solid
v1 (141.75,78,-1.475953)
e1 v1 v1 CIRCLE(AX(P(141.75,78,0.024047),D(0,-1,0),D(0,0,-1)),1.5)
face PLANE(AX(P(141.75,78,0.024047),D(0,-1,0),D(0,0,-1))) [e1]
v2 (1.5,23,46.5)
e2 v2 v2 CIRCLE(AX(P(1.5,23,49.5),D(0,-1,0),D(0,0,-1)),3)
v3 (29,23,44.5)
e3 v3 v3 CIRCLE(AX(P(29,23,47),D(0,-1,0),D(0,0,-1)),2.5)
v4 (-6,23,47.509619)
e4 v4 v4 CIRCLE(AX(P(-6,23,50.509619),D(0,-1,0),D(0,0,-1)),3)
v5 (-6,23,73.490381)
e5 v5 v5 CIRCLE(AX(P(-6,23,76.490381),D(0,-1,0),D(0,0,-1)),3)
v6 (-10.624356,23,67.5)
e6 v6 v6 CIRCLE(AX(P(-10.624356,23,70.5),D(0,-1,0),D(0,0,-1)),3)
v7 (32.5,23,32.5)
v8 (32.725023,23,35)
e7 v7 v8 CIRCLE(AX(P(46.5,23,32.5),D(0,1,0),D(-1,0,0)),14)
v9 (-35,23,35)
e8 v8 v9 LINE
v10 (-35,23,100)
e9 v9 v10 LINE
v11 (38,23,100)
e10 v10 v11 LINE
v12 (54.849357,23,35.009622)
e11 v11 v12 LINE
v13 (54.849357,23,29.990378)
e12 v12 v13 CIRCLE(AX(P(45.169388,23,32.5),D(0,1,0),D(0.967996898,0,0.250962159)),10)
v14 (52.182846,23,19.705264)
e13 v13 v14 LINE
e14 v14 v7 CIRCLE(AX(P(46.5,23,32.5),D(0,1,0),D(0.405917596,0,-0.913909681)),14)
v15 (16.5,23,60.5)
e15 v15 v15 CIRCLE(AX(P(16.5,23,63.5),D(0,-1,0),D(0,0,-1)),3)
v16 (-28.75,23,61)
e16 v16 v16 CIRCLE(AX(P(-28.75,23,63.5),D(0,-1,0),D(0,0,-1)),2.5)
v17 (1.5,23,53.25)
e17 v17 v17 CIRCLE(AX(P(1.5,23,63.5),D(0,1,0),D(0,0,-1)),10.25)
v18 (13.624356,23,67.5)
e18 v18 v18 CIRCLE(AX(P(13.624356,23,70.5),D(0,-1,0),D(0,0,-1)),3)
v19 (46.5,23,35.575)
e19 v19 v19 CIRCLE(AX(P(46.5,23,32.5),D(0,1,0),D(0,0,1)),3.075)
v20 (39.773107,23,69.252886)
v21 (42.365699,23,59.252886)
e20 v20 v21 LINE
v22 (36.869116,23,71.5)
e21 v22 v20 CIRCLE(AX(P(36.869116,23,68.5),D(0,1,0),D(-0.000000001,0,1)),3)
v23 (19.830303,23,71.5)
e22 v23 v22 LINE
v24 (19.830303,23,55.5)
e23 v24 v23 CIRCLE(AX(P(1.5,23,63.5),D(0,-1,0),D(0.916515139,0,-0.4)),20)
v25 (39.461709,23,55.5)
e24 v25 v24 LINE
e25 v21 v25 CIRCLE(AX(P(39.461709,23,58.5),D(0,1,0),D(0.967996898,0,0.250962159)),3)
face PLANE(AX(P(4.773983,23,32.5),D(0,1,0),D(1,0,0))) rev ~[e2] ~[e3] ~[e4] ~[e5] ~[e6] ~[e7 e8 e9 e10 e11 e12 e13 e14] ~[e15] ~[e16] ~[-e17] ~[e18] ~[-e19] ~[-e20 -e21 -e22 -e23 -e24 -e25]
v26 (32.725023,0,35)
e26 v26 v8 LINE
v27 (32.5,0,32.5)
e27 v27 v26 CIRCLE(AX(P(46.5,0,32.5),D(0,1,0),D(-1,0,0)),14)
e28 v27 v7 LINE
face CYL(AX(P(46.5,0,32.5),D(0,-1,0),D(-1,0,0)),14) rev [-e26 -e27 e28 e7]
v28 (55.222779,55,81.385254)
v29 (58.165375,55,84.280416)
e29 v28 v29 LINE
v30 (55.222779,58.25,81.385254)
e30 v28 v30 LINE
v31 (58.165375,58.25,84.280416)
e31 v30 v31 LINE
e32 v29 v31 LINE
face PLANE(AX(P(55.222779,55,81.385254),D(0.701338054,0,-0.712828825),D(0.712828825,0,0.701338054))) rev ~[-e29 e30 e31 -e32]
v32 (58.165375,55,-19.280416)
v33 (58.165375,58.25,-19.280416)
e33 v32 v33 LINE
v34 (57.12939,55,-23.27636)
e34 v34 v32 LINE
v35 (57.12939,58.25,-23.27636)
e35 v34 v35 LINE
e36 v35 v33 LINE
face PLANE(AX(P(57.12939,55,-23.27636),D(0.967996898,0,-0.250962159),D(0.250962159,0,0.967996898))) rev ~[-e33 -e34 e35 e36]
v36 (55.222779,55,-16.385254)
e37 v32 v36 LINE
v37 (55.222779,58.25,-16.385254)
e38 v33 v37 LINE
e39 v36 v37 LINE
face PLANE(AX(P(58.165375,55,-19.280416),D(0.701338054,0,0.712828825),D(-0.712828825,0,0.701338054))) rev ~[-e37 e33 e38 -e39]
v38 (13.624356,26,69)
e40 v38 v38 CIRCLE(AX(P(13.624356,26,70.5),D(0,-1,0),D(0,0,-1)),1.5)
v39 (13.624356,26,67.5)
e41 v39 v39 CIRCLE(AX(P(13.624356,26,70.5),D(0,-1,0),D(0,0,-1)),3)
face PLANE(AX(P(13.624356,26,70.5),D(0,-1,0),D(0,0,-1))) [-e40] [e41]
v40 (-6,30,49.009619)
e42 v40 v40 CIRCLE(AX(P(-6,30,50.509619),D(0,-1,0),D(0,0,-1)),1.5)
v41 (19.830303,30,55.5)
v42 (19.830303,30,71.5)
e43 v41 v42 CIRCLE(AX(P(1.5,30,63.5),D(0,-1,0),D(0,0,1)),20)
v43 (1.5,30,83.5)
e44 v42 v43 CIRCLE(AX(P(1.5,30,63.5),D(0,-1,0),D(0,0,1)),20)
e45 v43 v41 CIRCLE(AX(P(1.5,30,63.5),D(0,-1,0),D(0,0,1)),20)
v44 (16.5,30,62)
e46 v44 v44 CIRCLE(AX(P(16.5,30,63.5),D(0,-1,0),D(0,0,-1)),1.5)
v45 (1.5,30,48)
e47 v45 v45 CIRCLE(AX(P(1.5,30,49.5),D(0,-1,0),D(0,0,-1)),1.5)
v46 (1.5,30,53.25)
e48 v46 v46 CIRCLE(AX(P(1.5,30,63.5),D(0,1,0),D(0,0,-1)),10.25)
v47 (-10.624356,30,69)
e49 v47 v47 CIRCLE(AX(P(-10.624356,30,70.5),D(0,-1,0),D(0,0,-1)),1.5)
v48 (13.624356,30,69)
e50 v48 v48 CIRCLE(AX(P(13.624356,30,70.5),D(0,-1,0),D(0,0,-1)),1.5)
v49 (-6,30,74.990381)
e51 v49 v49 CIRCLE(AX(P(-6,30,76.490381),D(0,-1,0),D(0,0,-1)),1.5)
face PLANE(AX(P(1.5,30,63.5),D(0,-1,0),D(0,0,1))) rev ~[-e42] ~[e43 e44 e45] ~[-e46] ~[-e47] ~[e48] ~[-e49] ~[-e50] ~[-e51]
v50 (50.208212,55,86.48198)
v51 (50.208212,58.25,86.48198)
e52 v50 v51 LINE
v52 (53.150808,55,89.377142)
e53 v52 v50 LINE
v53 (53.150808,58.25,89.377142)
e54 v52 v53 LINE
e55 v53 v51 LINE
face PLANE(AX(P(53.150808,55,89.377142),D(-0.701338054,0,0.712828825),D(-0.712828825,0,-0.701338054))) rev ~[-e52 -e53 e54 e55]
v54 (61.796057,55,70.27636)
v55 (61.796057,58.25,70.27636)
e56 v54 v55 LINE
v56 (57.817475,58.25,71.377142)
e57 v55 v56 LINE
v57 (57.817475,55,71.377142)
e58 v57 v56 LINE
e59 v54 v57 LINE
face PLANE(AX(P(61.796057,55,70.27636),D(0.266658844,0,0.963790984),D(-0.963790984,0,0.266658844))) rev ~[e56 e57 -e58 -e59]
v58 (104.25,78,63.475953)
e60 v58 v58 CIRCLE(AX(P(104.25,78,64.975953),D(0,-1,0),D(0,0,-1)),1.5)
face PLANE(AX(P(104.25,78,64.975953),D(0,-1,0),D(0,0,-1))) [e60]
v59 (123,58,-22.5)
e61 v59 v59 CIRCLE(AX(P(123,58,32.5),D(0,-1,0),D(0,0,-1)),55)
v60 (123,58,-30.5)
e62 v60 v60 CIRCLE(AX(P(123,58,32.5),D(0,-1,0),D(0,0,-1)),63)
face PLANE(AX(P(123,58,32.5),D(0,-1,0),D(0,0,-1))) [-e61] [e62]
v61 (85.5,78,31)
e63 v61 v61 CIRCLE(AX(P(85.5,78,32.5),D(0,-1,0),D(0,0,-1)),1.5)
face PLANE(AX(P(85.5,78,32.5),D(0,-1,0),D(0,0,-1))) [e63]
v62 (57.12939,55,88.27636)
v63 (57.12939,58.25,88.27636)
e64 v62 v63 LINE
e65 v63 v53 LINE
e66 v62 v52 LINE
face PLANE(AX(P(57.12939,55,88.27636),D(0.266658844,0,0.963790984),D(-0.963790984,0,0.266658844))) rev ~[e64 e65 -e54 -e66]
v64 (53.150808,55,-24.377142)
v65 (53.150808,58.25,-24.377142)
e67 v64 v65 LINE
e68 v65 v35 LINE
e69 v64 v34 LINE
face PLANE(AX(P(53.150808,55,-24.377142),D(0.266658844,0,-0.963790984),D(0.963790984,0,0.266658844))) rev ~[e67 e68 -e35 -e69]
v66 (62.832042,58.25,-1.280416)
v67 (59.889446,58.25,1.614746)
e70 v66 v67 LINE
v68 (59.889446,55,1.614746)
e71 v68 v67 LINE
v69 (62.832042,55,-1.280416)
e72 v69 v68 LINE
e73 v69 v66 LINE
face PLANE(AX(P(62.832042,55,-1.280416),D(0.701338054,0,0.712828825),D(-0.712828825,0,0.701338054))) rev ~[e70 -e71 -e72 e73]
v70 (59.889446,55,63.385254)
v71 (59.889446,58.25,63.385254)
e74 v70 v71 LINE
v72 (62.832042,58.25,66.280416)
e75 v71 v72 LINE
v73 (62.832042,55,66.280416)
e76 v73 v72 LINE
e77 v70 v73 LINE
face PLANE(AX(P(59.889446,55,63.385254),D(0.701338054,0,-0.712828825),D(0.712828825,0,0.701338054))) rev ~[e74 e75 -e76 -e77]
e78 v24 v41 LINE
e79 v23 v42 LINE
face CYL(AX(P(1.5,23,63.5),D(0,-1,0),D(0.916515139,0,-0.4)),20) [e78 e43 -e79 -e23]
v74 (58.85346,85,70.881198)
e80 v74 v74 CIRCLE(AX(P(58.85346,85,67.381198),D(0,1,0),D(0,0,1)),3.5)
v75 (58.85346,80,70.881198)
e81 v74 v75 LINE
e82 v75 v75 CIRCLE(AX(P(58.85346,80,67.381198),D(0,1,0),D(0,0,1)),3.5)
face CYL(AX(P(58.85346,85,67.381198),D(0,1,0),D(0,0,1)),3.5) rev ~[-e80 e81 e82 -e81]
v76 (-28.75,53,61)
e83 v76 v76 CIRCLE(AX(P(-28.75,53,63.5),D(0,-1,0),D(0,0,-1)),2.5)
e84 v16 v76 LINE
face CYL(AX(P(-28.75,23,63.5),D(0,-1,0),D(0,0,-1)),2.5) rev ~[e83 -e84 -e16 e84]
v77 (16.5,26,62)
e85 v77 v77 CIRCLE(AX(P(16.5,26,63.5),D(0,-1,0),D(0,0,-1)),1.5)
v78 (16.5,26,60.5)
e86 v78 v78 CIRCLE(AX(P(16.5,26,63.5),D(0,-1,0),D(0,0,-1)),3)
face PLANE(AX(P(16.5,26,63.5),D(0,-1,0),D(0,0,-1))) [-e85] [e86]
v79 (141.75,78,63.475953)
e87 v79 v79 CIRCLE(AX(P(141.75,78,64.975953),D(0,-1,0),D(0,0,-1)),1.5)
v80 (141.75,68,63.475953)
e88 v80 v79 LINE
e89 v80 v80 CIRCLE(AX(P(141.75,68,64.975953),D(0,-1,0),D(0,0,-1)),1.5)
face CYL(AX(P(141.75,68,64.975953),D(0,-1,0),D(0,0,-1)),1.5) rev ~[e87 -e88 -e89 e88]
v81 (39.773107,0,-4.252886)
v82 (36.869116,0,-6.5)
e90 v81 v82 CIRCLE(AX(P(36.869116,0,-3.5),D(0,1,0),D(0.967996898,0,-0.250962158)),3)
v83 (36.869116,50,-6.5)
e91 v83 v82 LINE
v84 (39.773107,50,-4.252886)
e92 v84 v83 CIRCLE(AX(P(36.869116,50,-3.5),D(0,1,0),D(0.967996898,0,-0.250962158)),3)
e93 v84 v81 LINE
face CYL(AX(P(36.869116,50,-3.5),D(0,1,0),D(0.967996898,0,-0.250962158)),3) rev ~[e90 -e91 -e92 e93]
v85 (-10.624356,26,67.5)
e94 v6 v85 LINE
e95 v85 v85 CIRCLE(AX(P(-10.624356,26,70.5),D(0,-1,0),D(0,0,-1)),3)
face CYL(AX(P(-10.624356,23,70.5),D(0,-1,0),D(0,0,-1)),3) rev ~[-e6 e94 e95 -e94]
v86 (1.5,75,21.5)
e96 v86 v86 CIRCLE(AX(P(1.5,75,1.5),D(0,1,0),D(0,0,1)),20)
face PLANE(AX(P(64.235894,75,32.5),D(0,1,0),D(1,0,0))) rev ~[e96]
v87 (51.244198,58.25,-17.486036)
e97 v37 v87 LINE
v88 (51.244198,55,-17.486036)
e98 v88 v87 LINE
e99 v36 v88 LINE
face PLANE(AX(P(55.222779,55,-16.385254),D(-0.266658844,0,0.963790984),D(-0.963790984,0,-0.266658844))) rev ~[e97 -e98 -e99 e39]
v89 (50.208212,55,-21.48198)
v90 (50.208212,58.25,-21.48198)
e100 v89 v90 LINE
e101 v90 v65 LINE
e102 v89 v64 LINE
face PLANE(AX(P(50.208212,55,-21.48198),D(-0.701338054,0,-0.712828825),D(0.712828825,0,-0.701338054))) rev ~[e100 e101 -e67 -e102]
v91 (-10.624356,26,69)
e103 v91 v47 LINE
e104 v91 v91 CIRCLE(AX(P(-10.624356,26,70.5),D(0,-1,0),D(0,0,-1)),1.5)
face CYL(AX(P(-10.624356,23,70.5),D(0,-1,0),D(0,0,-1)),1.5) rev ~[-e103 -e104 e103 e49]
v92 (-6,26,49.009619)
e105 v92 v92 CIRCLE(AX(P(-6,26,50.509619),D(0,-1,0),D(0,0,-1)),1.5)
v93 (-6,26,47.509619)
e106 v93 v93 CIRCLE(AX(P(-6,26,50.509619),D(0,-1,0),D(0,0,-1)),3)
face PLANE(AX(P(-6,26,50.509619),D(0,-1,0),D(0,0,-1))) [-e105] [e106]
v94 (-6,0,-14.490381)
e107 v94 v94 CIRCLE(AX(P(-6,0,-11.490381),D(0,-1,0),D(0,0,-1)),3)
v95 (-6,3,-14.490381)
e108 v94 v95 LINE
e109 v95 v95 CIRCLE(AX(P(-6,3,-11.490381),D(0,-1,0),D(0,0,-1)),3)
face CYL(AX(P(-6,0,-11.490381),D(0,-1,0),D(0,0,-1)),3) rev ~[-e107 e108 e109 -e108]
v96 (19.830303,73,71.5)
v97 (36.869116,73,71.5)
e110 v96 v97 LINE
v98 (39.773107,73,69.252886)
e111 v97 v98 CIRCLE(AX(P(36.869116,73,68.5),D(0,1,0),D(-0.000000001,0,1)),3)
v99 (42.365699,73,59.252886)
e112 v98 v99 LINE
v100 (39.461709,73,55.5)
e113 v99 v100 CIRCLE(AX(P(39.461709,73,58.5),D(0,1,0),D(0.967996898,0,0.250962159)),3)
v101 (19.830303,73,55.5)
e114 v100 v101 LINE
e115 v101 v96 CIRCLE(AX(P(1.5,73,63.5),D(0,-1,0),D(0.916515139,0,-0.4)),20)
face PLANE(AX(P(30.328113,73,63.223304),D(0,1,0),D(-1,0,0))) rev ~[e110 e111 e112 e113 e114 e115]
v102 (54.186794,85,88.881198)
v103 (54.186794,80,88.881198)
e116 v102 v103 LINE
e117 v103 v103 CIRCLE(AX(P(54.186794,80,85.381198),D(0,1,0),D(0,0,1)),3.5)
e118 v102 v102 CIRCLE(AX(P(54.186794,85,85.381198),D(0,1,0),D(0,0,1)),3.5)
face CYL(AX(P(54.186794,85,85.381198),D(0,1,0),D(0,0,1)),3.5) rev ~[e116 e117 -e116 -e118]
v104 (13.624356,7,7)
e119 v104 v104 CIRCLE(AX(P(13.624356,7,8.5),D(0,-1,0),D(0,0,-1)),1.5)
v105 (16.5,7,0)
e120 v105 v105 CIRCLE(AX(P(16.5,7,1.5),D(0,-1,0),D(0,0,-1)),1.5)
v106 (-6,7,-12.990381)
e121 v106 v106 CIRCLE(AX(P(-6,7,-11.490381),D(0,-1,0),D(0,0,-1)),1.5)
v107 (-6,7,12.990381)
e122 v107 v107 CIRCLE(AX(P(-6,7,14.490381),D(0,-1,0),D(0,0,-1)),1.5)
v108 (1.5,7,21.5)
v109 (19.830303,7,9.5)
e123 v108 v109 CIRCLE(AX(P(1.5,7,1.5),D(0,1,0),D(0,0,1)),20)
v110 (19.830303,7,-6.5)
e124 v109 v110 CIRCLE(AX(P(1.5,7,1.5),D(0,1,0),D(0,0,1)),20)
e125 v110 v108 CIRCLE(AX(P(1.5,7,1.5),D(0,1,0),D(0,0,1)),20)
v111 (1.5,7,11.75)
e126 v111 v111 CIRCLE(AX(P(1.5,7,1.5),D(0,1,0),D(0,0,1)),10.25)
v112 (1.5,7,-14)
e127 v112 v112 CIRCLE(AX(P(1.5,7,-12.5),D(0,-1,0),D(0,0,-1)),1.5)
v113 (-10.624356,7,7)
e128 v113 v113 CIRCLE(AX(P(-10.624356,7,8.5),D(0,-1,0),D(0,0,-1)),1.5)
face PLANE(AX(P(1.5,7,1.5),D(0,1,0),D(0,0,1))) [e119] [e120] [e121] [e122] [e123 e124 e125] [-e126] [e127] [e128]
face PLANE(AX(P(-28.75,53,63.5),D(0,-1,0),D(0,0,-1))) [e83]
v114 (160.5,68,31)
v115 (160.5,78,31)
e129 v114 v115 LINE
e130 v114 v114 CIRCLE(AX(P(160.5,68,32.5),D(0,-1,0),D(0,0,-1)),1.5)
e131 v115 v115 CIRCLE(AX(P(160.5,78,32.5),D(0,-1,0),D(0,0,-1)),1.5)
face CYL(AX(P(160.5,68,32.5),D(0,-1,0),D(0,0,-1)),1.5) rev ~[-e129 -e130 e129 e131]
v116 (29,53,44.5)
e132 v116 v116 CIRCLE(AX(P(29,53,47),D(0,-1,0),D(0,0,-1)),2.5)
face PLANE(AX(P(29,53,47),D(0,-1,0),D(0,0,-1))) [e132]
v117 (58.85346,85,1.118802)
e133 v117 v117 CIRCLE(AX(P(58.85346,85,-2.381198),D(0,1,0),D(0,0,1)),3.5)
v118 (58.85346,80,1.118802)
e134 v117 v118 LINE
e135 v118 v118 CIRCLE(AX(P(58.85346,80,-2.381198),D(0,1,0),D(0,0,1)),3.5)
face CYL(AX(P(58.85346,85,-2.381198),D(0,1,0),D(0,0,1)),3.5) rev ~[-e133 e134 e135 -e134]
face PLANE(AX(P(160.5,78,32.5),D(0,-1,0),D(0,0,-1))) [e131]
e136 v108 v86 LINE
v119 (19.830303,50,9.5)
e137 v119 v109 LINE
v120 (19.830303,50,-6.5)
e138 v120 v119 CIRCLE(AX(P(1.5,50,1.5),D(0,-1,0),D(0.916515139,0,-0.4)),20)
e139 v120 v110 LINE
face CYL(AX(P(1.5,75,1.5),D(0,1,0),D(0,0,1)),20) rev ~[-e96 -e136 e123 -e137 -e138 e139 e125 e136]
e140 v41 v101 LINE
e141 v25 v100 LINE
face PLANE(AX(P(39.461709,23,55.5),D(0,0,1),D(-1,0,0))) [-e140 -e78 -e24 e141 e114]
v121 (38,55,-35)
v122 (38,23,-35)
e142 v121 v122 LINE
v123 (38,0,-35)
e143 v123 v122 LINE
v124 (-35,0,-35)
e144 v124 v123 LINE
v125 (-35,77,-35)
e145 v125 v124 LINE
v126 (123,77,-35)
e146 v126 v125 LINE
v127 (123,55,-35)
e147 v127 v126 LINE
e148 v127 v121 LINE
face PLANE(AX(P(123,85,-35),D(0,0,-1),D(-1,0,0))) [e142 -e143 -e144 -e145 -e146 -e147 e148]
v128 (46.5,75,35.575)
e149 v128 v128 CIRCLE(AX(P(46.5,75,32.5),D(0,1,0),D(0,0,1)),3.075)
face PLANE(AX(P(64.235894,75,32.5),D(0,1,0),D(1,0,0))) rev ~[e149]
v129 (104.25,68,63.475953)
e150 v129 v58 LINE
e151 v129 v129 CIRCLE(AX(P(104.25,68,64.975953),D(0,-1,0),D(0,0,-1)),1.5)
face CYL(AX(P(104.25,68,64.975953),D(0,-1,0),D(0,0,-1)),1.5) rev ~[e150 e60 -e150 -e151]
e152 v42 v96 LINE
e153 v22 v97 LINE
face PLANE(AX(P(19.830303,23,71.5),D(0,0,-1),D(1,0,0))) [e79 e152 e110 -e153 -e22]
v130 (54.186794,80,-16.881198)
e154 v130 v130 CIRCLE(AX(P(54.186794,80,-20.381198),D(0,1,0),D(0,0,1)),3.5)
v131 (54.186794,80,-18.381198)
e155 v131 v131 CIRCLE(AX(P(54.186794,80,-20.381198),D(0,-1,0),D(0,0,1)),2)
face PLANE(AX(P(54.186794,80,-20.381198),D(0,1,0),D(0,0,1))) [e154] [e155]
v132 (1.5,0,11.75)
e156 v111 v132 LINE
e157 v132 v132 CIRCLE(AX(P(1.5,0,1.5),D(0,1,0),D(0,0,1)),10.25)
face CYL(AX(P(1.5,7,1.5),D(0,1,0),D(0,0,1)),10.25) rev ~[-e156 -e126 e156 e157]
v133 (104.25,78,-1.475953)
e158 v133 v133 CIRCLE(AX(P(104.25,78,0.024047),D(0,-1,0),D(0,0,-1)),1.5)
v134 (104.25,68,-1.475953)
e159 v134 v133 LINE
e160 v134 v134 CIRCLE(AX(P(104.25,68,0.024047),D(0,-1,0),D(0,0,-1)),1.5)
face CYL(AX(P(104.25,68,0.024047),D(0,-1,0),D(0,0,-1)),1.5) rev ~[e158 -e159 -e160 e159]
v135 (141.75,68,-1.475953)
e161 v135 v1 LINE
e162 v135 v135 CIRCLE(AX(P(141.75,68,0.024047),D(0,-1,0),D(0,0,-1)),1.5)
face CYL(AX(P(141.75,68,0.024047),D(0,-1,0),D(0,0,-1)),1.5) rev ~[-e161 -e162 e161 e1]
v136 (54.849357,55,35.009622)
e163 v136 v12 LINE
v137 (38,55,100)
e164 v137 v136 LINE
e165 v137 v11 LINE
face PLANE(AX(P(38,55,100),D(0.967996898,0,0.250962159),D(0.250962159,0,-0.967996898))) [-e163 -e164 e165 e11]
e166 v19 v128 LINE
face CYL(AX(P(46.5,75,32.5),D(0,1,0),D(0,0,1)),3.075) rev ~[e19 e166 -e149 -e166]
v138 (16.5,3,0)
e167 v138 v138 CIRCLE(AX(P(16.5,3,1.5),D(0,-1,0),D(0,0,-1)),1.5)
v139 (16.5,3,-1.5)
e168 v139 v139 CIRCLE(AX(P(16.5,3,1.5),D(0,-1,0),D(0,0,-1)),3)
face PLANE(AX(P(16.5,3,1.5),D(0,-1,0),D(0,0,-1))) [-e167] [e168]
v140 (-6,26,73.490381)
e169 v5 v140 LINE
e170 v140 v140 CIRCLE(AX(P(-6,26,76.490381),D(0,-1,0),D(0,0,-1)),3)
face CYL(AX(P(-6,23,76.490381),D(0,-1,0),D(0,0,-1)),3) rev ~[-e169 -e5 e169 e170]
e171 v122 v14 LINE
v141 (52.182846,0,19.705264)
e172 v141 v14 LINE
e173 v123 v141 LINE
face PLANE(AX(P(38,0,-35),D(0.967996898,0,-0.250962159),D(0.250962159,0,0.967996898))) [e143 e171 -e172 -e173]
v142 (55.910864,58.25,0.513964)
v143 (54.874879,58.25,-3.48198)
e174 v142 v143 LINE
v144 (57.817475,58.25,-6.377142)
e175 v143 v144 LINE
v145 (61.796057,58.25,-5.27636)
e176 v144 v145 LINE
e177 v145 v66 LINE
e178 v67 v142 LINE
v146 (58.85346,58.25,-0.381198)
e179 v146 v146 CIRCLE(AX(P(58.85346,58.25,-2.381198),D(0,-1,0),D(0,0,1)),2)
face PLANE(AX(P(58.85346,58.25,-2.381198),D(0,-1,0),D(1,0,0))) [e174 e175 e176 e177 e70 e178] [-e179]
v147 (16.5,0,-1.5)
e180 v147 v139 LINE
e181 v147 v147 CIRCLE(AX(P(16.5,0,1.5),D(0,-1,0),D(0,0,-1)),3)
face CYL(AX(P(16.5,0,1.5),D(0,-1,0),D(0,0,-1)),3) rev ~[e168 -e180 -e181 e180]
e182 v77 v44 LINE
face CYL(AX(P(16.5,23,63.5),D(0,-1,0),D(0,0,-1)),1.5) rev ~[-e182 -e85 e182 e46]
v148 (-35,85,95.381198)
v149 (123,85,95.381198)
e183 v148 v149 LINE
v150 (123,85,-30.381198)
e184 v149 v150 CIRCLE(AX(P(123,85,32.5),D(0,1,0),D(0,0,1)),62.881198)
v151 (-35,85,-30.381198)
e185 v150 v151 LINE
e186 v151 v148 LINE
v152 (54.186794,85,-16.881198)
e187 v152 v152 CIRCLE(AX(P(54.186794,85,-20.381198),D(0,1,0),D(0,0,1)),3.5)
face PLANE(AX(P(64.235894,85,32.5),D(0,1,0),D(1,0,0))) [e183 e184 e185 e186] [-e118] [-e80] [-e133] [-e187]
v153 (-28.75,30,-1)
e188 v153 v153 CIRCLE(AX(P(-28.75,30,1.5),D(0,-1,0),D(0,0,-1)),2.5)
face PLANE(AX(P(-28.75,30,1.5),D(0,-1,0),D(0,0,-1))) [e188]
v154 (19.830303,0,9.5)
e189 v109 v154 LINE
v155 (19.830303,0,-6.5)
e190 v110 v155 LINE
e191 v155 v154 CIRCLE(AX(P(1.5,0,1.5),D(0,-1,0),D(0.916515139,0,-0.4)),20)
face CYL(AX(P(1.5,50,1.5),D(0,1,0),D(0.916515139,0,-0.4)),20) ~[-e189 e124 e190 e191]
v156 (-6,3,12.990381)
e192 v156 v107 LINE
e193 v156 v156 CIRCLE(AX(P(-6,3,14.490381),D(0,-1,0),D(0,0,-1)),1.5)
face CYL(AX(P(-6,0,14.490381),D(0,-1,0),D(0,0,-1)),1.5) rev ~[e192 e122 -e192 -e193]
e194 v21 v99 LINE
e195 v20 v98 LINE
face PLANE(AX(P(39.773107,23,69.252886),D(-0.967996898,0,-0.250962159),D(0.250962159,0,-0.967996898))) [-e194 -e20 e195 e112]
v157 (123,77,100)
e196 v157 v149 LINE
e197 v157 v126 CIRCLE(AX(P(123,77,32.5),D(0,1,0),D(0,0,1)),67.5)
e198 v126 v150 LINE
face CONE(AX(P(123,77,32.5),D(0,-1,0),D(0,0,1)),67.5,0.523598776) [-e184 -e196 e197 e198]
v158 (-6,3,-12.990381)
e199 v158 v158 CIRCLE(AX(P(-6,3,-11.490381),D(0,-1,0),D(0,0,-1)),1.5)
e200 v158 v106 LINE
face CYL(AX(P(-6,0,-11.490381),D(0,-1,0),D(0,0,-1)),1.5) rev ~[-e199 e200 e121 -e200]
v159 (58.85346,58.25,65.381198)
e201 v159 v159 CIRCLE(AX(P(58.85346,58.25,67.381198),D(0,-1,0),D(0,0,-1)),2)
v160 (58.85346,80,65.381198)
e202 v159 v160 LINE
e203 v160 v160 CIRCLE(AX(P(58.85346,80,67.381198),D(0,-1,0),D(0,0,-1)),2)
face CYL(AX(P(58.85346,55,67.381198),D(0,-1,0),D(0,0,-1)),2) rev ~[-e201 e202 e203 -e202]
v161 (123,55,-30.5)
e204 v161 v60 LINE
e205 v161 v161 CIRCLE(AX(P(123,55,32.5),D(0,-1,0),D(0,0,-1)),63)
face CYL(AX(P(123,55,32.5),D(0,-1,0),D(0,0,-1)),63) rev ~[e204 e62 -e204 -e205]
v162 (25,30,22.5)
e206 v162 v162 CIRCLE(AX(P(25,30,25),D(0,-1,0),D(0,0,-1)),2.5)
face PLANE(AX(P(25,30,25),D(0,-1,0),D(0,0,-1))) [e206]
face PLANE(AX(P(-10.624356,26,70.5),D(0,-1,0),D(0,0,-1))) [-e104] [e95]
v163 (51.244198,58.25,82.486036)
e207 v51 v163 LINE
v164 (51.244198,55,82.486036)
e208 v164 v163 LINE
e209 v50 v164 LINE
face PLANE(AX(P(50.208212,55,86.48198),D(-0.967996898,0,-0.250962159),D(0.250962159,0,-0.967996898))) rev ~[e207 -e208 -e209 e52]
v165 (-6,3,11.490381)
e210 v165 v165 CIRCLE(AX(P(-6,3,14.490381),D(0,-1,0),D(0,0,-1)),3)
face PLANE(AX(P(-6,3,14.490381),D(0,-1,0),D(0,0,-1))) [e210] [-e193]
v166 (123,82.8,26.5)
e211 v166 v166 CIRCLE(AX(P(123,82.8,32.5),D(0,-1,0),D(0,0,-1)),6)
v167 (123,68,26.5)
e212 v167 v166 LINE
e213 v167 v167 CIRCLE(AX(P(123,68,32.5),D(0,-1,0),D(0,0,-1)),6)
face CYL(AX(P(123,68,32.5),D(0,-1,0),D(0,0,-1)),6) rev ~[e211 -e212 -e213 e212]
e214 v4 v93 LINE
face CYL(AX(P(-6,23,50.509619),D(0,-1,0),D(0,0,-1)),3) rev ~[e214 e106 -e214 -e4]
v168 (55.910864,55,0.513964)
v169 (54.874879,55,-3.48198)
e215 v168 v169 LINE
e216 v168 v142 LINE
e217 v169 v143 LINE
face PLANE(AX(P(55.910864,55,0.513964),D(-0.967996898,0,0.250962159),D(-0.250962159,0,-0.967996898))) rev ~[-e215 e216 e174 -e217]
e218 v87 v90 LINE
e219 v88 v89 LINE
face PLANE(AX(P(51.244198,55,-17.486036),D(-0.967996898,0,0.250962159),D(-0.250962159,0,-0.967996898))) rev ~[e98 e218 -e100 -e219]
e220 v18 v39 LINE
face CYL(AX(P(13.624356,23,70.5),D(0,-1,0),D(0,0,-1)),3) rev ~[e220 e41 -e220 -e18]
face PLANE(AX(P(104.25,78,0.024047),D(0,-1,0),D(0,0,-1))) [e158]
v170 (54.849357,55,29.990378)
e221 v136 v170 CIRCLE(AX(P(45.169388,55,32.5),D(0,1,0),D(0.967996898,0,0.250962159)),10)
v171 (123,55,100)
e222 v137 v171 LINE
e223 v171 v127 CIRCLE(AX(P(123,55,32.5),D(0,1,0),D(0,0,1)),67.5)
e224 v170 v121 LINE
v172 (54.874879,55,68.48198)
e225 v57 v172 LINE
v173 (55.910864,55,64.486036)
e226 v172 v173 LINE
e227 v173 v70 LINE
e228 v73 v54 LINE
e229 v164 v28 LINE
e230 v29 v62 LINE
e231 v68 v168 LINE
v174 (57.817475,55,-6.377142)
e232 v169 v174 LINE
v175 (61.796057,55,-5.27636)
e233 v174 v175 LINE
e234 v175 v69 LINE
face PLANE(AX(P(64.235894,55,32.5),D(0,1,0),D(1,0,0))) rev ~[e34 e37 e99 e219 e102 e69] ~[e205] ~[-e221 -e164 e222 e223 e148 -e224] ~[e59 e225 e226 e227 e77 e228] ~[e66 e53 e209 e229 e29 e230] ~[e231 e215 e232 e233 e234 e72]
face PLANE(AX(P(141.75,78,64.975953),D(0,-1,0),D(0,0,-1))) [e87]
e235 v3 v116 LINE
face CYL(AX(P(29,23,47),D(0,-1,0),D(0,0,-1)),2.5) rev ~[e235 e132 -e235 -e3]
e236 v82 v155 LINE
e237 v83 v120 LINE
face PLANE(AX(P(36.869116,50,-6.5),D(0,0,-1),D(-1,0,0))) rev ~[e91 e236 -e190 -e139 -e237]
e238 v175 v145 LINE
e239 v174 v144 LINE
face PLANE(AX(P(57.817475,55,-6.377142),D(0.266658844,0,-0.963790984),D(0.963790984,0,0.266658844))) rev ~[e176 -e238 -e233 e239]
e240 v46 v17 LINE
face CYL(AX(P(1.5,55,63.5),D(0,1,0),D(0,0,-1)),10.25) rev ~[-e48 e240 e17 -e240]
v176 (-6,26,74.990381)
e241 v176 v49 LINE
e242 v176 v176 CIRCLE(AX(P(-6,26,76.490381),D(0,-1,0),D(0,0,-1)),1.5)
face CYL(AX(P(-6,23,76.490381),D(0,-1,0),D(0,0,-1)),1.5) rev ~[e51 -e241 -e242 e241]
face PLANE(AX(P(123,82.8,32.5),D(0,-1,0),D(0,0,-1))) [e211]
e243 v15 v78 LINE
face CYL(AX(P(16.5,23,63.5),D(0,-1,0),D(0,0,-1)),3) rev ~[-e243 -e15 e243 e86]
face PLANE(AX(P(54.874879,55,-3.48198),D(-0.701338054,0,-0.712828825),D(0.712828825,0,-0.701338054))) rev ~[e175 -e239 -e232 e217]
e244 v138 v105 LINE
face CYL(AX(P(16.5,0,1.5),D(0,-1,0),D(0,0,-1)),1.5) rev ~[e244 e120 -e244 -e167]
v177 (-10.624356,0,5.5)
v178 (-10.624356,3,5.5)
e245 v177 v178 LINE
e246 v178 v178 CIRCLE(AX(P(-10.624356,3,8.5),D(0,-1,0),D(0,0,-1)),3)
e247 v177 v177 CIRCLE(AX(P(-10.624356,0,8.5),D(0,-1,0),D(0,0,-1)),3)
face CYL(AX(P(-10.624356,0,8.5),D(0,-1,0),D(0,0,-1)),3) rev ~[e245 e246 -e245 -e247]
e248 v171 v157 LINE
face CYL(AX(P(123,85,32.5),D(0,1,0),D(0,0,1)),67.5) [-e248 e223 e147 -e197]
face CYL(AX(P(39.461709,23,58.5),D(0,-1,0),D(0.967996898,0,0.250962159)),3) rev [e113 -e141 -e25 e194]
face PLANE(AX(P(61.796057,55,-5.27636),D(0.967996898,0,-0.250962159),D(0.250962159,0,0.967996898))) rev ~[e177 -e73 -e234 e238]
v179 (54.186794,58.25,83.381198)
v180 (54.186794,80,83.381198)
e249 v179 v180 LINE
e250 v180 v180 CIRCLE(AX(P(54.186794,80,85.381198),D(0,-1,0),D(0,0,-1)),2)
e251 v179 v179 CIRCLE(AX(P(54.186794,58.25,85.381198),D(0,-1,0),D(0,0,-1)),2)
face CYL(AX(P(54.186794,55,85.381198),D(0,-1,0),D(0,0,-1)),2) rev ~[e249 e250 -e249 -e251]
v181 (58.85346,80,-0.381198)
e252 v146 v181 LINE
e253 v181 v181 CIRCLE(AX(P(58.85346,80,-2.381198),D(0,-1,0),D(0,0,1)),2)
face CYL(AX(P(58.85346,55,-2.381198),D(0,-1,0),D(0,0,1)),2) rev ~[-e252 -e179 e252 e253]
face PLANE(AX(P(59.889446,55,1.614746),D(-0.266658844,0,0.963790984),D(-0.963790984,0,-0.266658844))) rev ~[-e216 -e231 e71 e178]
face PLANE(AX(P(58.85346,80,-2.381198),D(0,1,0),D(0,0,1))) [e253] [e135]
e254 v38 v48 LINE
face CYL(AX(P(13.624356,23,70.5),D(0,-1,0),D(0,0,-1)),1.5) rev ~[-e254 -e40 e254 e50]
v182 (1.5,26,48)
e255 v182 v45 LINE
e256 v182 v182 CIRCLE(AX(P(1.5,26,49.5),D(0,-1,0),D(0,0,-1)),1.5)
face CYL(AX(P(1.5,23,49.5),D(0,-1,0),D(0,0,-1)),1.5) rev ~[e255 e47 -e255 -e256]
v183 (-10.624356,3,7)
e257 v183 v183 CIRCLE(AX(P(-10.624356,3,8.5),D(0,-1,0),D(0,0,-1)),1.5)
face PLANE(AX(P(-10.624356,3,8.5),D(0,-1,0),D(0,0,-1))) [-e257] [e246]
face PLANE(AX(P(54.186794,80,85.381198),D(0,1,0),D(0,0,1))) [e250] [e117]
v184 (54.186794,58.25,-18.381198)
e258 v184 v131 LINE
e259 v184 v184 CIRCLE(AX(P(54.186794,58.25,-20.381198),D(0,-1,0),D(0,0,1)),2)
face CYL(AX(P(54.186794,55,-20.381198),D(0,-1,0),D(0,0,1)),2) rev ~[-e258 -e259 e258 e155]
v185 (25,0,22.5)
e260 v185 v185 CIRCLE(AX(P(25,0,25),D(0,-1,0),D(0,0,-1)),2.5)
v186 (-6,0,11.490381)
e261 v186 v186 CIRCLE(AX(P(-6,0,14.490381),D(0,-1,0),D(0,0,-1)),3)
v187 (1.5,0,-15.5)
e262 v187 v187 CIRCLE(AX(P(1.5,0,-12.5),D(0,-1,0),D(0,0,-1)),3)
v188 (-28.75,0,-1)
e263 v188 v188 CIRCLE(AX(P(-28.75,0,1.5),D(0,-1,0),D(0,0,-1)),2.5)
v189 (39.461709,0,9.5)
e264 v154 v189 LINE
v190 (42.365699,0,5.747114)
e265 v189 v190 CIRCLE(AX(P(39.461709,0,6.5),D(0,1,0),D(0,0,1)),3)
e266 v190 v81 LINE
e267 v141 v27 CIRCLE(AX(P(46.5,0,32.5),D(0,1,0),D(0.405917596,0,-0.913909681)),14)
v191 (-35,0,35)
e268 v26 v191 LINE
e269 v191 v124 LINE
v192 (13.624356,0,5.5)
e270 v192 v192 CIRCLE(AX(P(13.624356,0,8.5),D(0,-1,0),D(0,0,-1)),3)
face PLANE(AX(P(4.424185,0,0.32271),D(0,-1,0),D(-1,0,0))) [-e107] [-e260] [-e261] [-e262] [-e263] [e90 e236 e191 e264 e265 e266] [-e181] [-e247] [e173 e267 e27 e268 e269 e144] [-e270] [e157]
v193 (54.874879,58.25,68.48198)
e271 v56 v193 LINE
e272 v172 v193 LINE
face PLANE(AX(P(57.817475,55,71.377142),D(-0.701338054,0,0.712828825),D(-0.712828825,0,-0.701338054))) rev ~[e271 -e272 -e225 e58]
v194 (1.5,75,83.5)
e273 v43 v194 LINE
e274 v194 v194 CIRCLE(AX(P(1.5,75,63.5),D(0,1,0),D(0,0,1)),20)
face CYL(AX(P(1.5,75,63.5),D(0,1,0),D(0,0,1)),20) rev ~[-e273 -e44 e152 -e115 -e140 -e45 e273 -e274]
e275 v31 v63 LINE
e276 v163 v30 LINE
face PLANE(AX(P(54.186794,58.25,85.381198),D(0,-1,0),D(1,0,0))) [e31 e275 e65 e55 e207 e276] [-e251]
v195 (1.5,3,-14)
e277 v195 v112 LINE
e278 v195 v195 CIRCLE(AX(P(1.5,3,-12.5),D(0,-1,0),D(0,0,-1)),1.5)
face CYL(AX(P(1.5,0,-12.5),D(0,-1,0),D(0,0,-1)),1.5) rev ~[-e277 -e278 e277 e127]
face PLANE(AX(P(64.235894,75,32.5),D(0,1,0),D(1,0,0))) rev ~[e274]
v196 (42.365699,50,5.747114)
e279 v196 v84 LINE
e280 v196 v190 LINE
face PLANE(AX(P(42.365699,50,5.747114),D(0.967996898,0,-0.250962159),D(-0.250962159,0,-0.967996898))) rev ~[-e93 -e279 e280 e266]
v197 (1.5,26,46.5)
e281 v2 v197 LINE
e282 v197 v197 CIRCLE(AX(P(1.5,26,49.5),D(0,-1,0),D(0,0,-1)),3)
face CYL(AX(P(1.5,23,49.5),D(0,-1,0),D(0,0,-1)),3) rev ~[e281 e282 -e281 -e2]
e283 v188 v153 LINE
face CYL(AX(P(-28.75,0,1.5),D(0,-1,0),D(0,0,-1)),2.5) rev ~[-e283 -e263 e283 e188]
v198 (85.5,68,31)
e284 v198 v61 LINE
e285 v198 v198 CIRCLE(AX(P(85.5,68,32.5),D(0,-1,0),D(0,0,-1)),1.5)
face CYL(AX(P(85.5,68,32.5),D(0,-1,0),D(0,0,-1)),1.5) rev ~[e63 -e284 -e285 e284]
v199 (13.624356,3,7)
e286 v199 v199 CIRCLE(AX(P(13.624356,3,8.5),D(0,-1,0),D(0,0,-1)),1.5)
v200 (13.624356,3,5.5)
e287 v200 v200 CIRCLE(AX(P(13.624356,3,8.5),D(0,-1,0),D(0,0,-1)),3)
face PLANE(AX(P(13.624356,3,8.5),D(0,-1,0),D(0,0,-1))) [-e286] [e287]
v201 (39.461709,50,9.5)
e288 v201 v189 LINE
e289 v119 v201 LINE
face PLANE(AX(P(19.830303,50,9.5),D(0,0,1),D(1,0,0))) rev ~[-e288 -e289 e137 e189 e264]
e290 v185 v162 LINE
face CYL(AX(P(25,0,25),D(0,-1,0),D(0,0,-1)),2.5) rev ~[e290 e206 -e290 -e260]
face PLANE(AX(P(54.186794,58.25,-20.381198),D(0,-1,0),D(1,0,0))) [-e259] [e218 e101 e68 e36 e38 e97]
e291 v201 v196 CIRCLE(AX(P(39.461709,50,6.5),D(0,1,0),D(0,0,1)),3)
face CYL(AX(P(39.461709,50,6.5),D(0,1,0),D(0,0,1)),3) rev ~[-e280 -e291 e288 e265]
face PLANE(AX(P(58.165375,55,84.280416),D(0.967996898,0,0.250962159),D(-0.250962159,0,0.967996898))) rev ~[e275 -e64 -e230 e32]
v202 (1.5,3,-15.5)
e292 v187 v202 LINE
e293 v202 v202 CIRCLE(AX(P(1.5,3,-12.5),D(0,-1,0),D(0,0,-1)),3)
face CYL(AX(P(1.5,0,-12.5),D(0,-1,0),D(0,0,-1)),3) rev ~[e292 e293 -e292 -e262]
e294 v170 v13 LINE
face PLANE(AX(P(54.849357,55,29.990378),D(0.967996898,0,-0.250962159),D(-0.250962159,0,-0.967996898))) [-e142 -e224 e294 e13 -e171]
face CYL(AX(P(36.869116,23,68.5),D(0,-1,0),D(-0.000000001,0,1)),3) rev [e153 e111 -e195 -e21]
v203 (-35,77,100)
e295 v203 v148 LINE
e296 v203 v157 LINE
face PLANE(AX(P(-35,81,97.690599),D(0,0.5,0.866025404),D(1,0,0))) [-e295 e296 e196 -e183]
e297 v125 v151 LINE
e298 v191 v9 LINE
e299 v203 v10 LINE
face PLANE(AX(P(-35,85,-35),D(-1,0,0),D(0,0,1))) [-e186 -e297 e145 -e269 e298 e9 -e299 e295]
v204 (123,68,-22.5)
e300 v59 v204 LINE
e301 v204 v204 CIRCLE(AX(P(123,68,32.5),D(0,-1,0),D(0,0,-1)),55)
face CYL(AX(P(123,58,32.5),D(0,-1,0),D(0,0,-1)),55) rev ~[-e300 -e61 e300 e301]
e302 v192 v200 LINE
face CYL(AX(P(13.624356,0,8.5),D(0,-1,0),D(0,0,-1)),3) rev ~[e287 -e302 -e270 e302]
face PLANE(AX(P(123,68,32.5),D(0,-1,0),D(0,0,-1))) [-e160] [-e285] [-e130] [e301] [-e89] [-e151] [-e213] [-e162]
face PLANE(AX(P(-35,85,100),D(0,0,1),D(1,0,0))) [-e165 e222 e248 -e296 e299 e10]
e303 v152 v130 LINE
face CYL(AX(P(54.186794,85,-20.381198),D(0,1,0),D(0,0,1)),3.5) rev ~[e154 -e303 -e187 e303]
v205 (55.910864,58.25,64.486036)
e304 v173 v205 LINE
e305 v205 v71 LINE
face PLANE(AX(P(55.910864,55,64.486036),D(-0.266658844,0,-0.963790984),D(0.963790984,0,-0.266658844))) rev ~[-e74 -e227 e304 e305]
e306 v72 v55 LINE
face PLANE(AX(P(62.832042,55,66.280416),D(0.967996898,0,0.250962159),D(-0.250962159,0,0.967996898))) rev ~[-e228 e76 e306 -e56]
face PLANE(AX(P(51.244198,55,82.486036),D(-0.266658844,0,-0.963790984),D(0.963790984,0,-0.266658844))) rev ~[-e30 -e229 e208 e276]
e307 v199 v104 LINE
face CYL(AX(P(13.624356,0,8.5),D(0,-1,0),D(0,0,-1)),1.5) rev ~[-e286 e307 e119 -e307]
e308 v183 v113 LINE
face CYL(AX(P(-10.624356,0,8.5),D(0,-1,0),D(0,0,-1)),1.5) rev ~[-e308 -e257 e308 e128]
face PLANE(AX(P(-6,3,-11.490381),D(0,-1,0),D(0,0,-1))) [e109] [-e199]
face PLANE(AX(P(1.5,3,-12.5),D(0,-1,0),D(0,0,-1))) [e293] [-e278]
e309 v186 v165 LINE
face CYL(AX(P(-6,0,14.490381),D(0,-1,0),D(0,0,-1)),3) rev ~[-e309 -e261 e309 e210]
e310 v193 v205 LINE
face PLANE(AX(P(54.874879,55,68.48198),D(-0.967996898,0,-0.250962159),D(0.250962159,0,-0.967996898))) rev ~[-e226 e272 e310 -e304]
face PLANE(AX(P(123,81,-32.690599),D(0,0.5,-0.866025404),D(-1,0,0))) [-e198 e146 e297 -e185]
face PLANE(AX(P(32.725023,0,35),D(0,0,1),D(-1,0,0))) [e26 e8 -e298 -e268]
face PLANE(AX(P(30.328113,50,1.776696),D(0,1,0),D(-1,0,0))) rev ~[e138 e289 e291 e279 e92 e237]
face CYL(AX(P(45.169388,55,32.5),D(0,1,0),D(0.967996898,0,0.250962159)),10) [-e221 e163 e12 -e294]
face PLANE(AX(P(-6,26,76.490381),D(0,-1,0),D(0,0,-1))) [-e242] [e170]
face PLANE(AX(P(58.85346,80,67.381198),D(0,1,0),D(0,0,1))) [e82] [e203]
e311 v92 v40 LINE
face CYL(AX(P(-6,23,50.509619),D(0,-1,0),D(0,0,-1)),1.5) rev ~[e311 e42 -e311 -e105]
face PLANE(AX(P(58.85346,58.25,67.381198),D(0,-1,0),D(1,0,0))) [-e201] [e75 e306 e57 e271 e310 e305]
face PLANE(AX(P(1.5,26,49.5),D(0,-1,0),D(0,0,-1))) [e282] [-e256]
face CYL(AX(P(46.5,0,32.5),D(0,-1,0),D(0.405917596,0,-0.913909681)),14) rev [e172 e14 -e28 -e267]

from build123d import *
from OCP.BRepFilletAPI import BRepFilletAPI_MakeChamfer

# Parameters (mm, degrees)
SALIENTE_EXTRUIR2_DEPTH = 23
CROQUIS7_R              = 20
CORTAR_EXTRUIR1_DEPTH   = 16
CROQUIS8_R              = 10.25
CORTAR_EXTRUIR2_DEPTH   = 65.838641661
SALIENTE_EXTRUIR3_START = 32
CROQUIS9_R              = 20
CROQUIS9_R_2            = 3.075
CROQUIS9_R_3            = 10.25
SALIENTE_EXTRUIR3_DEPTH = 32
CORTAR_EXTRUIR3_START   = -7
CROQUIS10_R             = 20
CORTAR_EXTRUIR3_DEPTH   = 112.607172695
SALIENTE_EXTRUIR4_START = 20
CROQUIS11_R             = 3.075
CROQUIS11_R_2           = 20
SALIENTE_EXTRUIR4_DEPTH = 20
CROQUIS12_R             = 63
CORTAR_EXTRUIR4_DEPTH   = 3
CROQUIS13_R             = 55
CORTAR_EXTRUIR5_DEPTH   = 10
SALIENTE_EXTRUIR5_START = 10
SALIENTE_EXTRUIR5_DEPTH = 10
CHAFL_N1_SIZE           = 8
CHAFL_N1_SIZE2          = 4.618802154
CROQUIS15_R             = 6
CORTAR_EXTRUIR6_DEPTH   = 14.8
CORTAR_EXTRUIR7_REACH   = 233.334
CROQUIS17_R             = 1.5
CORTAR_EXTRUIR9_REACH   = 225.907
CROQUIS19_R             = 1.5
CORTAR_EXTRUIR10_START  = -50
CORTAR_EXTRUIR10_DEPTH  = 50
CORTAR_EXTRUIR11_DEPTH  = 50
CROQUIS22_R             = 3
CORTAR_EXTRUIR12_DEPTH  = 3
CROQUIS23_R             = 3
CORTAR_EXTRUIR13_DEPTH  = 3
CROQUIS25_R             = 2.5
CORTAR_EXTRUIR15_DEPTH  = 30
CROQUIS24_R             = 2.5
CORTAR_EXTRUIR14_DEPTH  = 30
CROQUIS26_R             = 2
CORTAR_EXTRUIR16_DEPTH  = 223.070371729
CROQUIS27_R             = 3.5
CORTAR_EXTRUIR17_DEPTH  = 5
CORTAR_EXTRUIR18_DEPTH  = 3.25
CROQUIS29_R             = 1.5
CORTAR_EXTRUIR19_DEPTH  = 10


with BuildPart() as part:
    # Croquis2 → Saliente-Extruir2 (new body)
    with BuildSketch(Plane(origin=(0, 0, 0), x_dir=(1, 0, 0), z_dir=(0, 1, 0))):
        with BuildLine():
            Line((32.725022686, -35), (-35, -35))
            Line((-35, -35), (-35, 35))
            Line((-35, 35), (38, 35))
            Line((38, 35), (52.182846342, -19.705264464))
            ThreePointArc((52.182846342, -19.705264464), (38.869791903, -20.762030653), (32.5, -32.5))
            ThreePointArc((32.5, -32.5), (32.556369153, -33.755053307), (32.725022686, -35))
        make_face()
    extrude(amount=SALIENTE_EXTRUIR2_DEPTH)

    # Croquis7 → Cortar-Extruir1 (cut)
    with BuildSketch(Plane(origin=(0, 23, 0), x_dir=(1, 0, 0), z_dir=(0, 1, 0))):
        with Locations(Location((1.5, -1.5, 0), (0, 0, 270))):
            Circle(CROQUIS7_R)
    extrude(amount=-CORTAR_EXTRUIR1_DEPTH, mode=Mode.SUBTRACT)

    # Croquis8 → Cortar-Extruir2 (cut, through all)
    with BuildSketch(Plane(origin=(0, 7, 0), x_dir=(1, 0, 0), z_dir=(0, 1, 0))):
        with Locations(Location((1.5, -1.5, 0), (0, 0, 270))):
            Circle(CROQUIS8_R)
    extrude(amount=-CORTAR_EXTRUIR2_DEPTH, mode=Mode.SUBTRACT)

    # Croquis9 → Saliente-Extruir3 (add)
    with BuildSketch(Plane(origin=(0, 23, 0), x_dir=(1, 0, 0), z_dir=(0, 1, 0)).offset(SALIENTE_EXTRUIR3_START)):
        with BuildLine():
            Line((-35, 35), (-35, -100))
            Line((-35, -100), (38, -100))
            Line((38, -100), (54.849357366, -35.009621588))
            ThreePointArc((54.849357366, -35.009621588), (55.169388384, -32.5), (54.849357366, -29.990378412))
            Line((54.849357366, -29.990378412), (38, 35))
            Line((38, 35), (-35, 35))
        make_face()
        with Locations(Location((1.5, -1.5, 0), (0, 0, 270))):
            Circle(CROQUIS9_R, mode=Mode.SUBTRACT)
        with Locations(Location((46.5, -32.5, 0), (0, 0, 270))):
            Circle(CROQUIS9_R_2, mode=Mode.SUBTRACT)
        with Locations(Location((1.5, -63.5, 0), (0, 0, 90))):
            Circle(CROQUIS9_R_3, mode=Mode.SUBTRACT)
    extrude(amount=-SALIENTE_EXTRUIR3_DEPTH)

    # Croquis10 → Cortar-Extruir3 (cut, through all)
    with BuildSketch(Plane.XZ.offset(-23).offset(CORTAR_EXTRUIR3_START)):
        with Locations(Location((1.5, 63.5, 0), (0, 0, 90))):
            Circle(CROQUIS10_R)
    extrude(amount=-CORTAR_EXTRUIR3_DEPTH, mode=Mode.SUBTRACT)

    # Croquis11 → Saliente-Extruir4 (add)
    with BuildSketch(Plane(origin=(0, 55, 0), x_dir=(1, 0, 0), z_dir=(0, 1, 0)).offset(SALIENTE_EXTRUIR4_START)):
        with BuildLine():
            Line((123, 35), (-35, 35))
            Line((-35, 35), (-35, -100))
            Line((-35, -100), (123, -100))
            ThreePointArc((123, -100), (190.5, -32.5), (123, 35))
        make_face()
        with Locations(Location((46.5, -32.5, 0), (0, 0, 270))):
            Circle(CROQUIS11_R, mode=Mode.SUBTRACT)
        with Locations(Location((1.5, -63.5, 0), (0, 0, 270))):
            Circle(CROQUIS11_R_2, mode=Mode.SUBTRACT)
        with Locations(Location((1.5, -1.5, 0), (0, 0, 270))):
            Circle(CROQUIS11_R_2, mode=Mode.SUBTRACT)
    extrude(amount=-SALIENTE_EXTRUIR4_DEPTH)

    # Croquis12 → Cortar-Extruir4 (cut)
    with BuildSketch(Plane.XZ.offset(-55)):
        with Locations(Location((123, 32.5, 0), (0, 0, 270))):
            Circle(CROQUIS12_R)
    extrude(amount=-CORTAR_EXTRUIR4_DEPTH, mode=Mode.SUBTRACT)

    # Croquis13 → Cortar-Extruir5 (cut)
    with BuildSketch(Plane.XZ.offset(-58)):
        with Locations(Location((123, 32.5, 0), (0, 0, 270))):
            Circle(CROQUIS13_R)
    extrude(amount=-CORTAR_EXTRUIR5_DEPTH, mode=Mode.SUBTRACT)

    # Croquis14 → Saliente-Extruir5 (add)
    with BuildSketch(Plane(origin=(0, 75, 0), x_dir=(1, 0, 0), z_dir=(0, 1, 0)).offset(SALIENTE_EXTRUIR5_START)):
        with BuildLine():
            Line((-35, -100), (123, -100))
            ThreePointArc((123, -100), (190.5, -32.5), (123, 35))
            Line((123, 35), (-35, 35))
            Line((-35, 35), (-35, -100))
        make_face()
    extrude(amount=-SALIENTE_EXTRUIR5_DEPTH)

    # Chaflán1: one chamfer whose edges measure the first distance from different faces: ONE call of the kernel's chamfer builder (chamfer() names one face for all edges)
    chafl_n1_edges_1 = [part.edges().sort_by_distance(p)[0] for p in [
        (190.5, 85, 32.5),
    ]]
    chafl_n1_side_1 = [part.faces().sort_by_distance(p)[0] for p in [
        (190.5, 70, 32.5),
    ]]
    chafl_n1_edges_2 = [part.edges().sort_by_distance(p)[0] for p in [
        (44, 85, -35),
    ]]
    chafl_n1_side_2 = [part.faces().sort_by_distance(p)[0] for p in [
        (24.509708738, 50.509708738, -35),
    ]]
    chafl_n1_edges_3 = [part.edges().sort_by_distance(p)[0] for p in [
        (44, 85, 100),
    ]]
    chafl_n1_side_3 = [part.faces().sort_by_distance(p)[0] for p in [
        (29.969474279, 59.765969474, 100),
    ]]
    chafl_n1 = BRepFilletAPI_MakeChamfer(part.part.solid().wrapped)
    for e in chafl_n1_edges_1:
        chafl_n1.Add(CHAFL_N1_SIZE, CHAFL_N1_SIZE2, e.wrapped, chafl_n1_side_1[0].wrapped)  # the first distance lies on this face
    for e in chafl_n1_edges_2:
        chafl_n1.Add(CHAFL_N1_SIZE, CHAFL_N1_SIZE2, e.wrapped, chafl_n1_side_2[0].wrapped)  # the first distance lies on this face
    for e in chafl_n1_edges_3:
        chafl_n1.Add(CHAFL_N1_SIZE, CHAFL_N1_SIZE2, e.wrapped, chafl_n1_side_3[0].wrapped)  # the first distance lies on this face
    add(Compound.cast(chafl_n1.Shape()), mode=Mode.REPLACE)

    # Croquis15 → Cortar-Extruir6 (cut)
    with BuildSketch(Plane.XZ.offset(-68)):
        with Locations(Location((123, 32.5, 0), (0, 0, 270))):
            Circle(CROQUIS15_R)
    extrude(amount=-CORTAR_EXTRUIR6_DEPTH, mode=Mode.SUBTRACT)

    # Croquis17 → Cortar-Extruir7 (cut, up to next)
    with BuildSketch(Plane.XZ, mode=Mode.PRIVATE) as cortar_extruir7_sk1:
        with Locations(Location((16.5, 1.5, 0), (0, 0, 270))):
            Circle(CROQUIS17_R)
    cortar_extruir7_tool1 = extrude(cortar_extruir7_sk1.sketch, amount=-CORTAR_EXTRUIR7_REACH, mode=Mode.PRIVATE) & part.part
    # Croquis17 → Cortar-Extruir7 (cut, up to next)
    with BuildSketch(Plane.XZ, mode=Mode.PRIVATE) as cortar_extruir7_sk2:
        with Locations(Location((-6, -11.490381057, 0), (0, 0, 270))):
            Circle(CROQUIS17_R)
    cortar_extruir7_tool2 = extrude(cortar_extruir7_sk2.sketch, amount=-CORTAR_EXTRUIR7_REACH, mode=Mode.PRIVATE) & part.part
    # Croquis17 → Cortar-Extruir7 (cut, up to next)
    with BuildSketch(Plane.XZ, mode=Mode.PRIVATE) as cortar_extruir7_sk3:
        with Locations(Location((-6, 14.490381057, 0), (0, 0, 270))):
            Circle(CROQUIS17_R)
    cortar_extruir7_tool3 = extrude(cortar_extruir7_sk3.sketch, amount=-CORTAR_EXTRUIR7_REACH, mode=Mode.PRIVATE) & part.part
    # Croquis17 → Cortar-Extruir7 (cut, up to next)
    with BuildSketch(Plane.XZ, mode=Mode.PRIVATE) as cortar_extruir7_sk4:
        with Locations(Location((13.624355653, 8.5, 0), (0, 0, 270))):
            Circle(CROQUIS17_R)
    cortar_extruir7_tool4 = extrude(cortar_extruir7_sk4.sketch, amount=-CORTAR_EXTRUIR7_REACH, mode=Mode.PRIVATE) & part.part
    # Croquis17 → Cortar-Extruir7 (cut, up to next)
    with BuildSketch(Plane.XZ, mode=Mode.PRIVATE) as cortar_extruir7_sk5:
        with Locations(Location((1.5, -12.5, 0), (0, 0, 270))):
            Circle(CROQUIS17_R)
    cortar_extruir7_tool5 = extrude(cortar_extruir7_sk5.sketch, amount=-CORTAR_EXTRUIR7_REACH, mode=Mode.PRIVATE) & part.part
    # Croquis17 → Cortar-Extruir7 (cut, up to next)
    with BuildSketch(Plane.XZ, mode=Mode.PRIVATE) as cortar_extruir7_sk6:
        with Locations(Location((-10.624355653, 8.5, 0), (0, 0, 270))):
            Circle(CROQUIS17_R)
    cortar_extruir7_tool6 = extrude(cortar_extruir7_sk6.sketch, amount=-CORTAR_EXTRUIR7_REACH, mode=Mode.PRIVATE) & part.part
    add(cortar_extruir7_tool1.solids().sort_by_distance((16.5, 0, 1.5))[0], mode=Mode.SUBTRACT)
    add(cortar_extruir7_tool2.solids().sort_by_distance((-6, 0, -11.490381))[0], mode=Mode.SUBTRACT)
    add(cortar_extruir7_tool3.solids().sort_by_distance((-6, 0, 14.490381))[0], mode=Mode.SUBTRACT)
    add(cortar_extruir7_tool4.solids().sort_by_distance((13.624356, 0, 8.5))[0], mode=Mode.SUBTRACT)
    add(cortar_extruir7_tool5.solids().sort_by_distance((1.5, 0, -12.5))[0], mode=Mode.SUBTRACT)
    add(cortar_extruir7_tool6.solids().sort_by_distance((-10.624356, 0, 8.5))[0], mode=Mode.SUBTRACT)

    # Croquis19 → Cortar-Extruir9 (cut, up to next)
    with BuildSketch(Plane.XZ.offset(-23), mode=Mode.PRIVATE) as cortar_extruir9_sk1:
        with Locations(Location((16.5, 63.5, 0), (0, 0, 270))):
            Circle(CROQUIS19_R)
    cortar_extruir9_tool1 = extrude(cortar_extruir9_sk1.sketch, amount=-CORTAR_EXTRUIR9_REACH, mode=Mode.PRIVATE) & part.part
    # Croquis19 → Cortar-Extruir9 (cut, up to next)
    with BuildSketch(Plane.XZ.offset(-23), mode=Mode.PRIVATE) as cortar_extruir9_sk2:
        with Locations(Location((-6, 50.509618943, 0), (0, 0, 270))):
            Circle(CROQUIS19_R)
    cortar_extruir9_tool2 = extrude(cortar_extruir9_sk2.sketch, amount=-CORTAR_EXTRUIR9_REACH, mode=Mode.PRIVATE) & part.part
    # Croquis19 → Cortar-Extruir9 (cut, up to next)
    with BuildSketch(Plane.XZ.offset(-23), mode=Mode.PRIVATE) as cortar_extruir9_sk3:
        with Locations(Location((-6, 76.490381057, 0), (0, 0, 270))):
            Circle(CROQUIS19_R)
    cortar_extruir9_tool3 = extrude(cortar_extruir9_sk3.sketch, amount=-CORTAR_EXTRUIR9_REACH, mode=Mode.PRIVATE) & part.part
    # Croquis19 → Cortar-Extruir9 (cut, up to next)
    with BuildSketch(Plane.XZ.offset(-23), mode=Mode.PRIVATE) as cortar_extruir9_sk4:
        with Locations(Location((13.624355653, 70.5, 0), (0, 0, 270))):
            Circle(CROQUIS19_R)
    cortar_extruir9_tool4 = extrude(cortar_extruir9_sk4.sketch, amount=-CORTAR_EXTRUIR9_REACH, mode=Mode.PRIVATE) & part.part
    # Croquis19 → Cortar-Extruir9 (cut, up to next)
    with BuildSketch(Plane.XZ.offset(-23), mode=Mode.PRIVATE) as cortar_extruir9_sk5:
        with Locations(Location((1.5, 49.5, 0), (0, 0, 270))):
            Circle(CROQUIS19_R)
    cortar_extruir9_tool5 = extrude(cortar_extruir9_sk5.sketch, amount=-CORTAR_EXTRUIR9_REACH, mode=Mode.PRIVATE) & part.part
    # Croquis19 → Cortar-Extruir9 (cut, up to next)
    with BuildSketch(Plane.XZ.offset(-23), mode=Mode.PRIVATE) as cortar_extruir9_sk6:
        with Locations(Location((-10.624355653, 70.5, 0), (0, 0, 270))):
            Circle(CROQUIS19_R)
    cortar_extruir9_tool6 = extrude(cortar_extruir9_sk6.sketch, amount=-CORTAR_EXTRUIR9_REACH, mode=Mode.PRIVATE) & part.part
    add(cortar_extruir9_tool1.solids().sort_by_distance((16.5, 23, 63.5))[0], mode=Mode.SUBTRACT)
    add(cortar_extruir9_tool2.solids().sort_by_distance((-6, 23, 50.509619))[0], mode=Mode.SUBTRACT)
    add(cortar_extruir9_tool3.solids().sort_by_distance((-6, 23, 76.490381))[0], mode=Mode.SUBTRACT)
    add(cortar_extruir9_tool4.solids().sort_by_distance((13.624356, 23, 70.5))[0], mode=Mode.SUBTRACT)
    add(cortar_extruir9_tool5.solids().sort_by_distance((1.5, 23, 49.5))[0], mode=Mode.SUBTRACT)
    add(cortar_extruir9_tool6.solids().sort_by_distance((-10.624356, 23, 70.5))[0], mode=Mode.SUBTRACT)

    # Croquis20 → Cortar-Extruir10 (cut)
    with BuildSketch(Plane.XZ.offset(CORTAR_EXTRUIR10_START)):
        with BuildLine():
            Line((42.3656995, 5.747113524), (39.773106907, -4.252886476))
            ThreePointArc((39.773106907, -4.252886476), (38.705054743, -5.872620854), (36.869116213, -6.5))
            Line((36.869116213, -6.5), (19.83030278, -6.5))
            ThreePointArc((19.83030278, -6.5), (21.5, 1.5), (19.83030278, 9.5))
            Line((19.83030278, 9.5), (39.461708805, 9.5))
            ThreePointArc((39.461708805, 9.5), (41.834329659, 8.33593853), (42.3656995, 5.747113524))
        make_face()
    extrude(amount=CORTAR_EXTRUIR10_DEPTH, mode=Mode.SUBTRACT)

    # Croquis21 → Cortar-Extruir11 (cut)
    with BuildSketch(Plane.XZ.offset(-23)):
        with BuildLine():
            Line((39.461708805, 55.5), (19.83030278, 55.5))
            ThreePointArc((19.83030278, 55.5), (21.5, 63.5), (19.83030278, 71.5))
            Line((19.83030278, 71.5), (36.869116213, 71.5))
            ThreePointArc((36.869116213, 71.5), (38.705054743, 70.872620854), (39.773106907, 69.252886476))
            Line((39.773106907, 69.252886476), (42.3656995, 59.252886476))
            ThreePointArc((42.3656995, 59.252886476), (41.834329659, 56.66406147), (39.461708805, 55.5))
        make_face()
    extrude(amount=-CORTAR_EXTRUIR11_DEPTH, mode=Mode.SUBTRACT)

    # Croquis22 → Cortar-Extruir12 (cut)
    with BuildSketch(Plane.XZ):
        with Locations(Location((-6, 14.490381057, 0), (0, 0, 270))):
            Circle(CROQUIS22_R)
        with Locations(Location((-10.624355653, 8.5, 0), (0, 0, 270))):
            Circle(CROQUIS22_R)
        with Locations(Location((-6, -11.490381057, 0), (0, 0, 270))):
            Circle(CROQUIS22_R)
        with Locations(Location((1.5, -12.5, 0), (0, 0, 270))):
            Circle(CROQUIS22_R)
        with Locations(Location((16.5, 1.5, 0), (0, 0, 270))):
            Circle(CROQUIS22_R)
        with Locations(Location((13.624355653, 8.5, 0), (0, 0, 270))):
            Circle(CROQUIS22_R)
    extrude(amount=-CORTAR_EXTRUIR12_DEPTH, mode=Mode.SUBTRACT)

    # Croquis23 → Cortar-Extruir13 (cut)
    with BuildSketch(Plane.XZ.offset(-23)):
        with Locations(Location((-6, 76.490381057, 0), (0, 0, 270))):
            Circle(CROQUIS23_R)
        with Locations(Location((-10.624355653, 70.5, 0), (0, 0, 270))):
            Circle(CROQUIS23_R)
        with Locations(Location((-6, 50.509618943, 0), (0, 0, 270))):
            Circle(CROQUIS23_R)
        with Locations(Location((1.5, 49.5, 0), (0, 0, 270))):
            Circle(CROQUIS23_R)
        with Locations(Location((16.5, 63.5, 0), (0, 0, 270))):
            Circle(CROQUIS23_R)
        with Locations(Location((13.624355653, 70.5, 0), (0, 0, 270))):
            Circle(CROQUIS23_R)
    extrude(amount=-CORTAR_EXTRUIR13_DEPTH, mode=Mode.SUBTRACT)

    # Croquis25 → Cortar-Extruir15 (cut)
    with BuildSketch(Plane.XZ.offset(-23)):
        with Locations(Location((-28.75, 63.5, 0), (0, 0, 270))):
            Circle(CROQUIS25_R)
        with Locations(Location((29, 47, 0), (0, 0, 270))):
            Circle(CROQUIS25_R)
    extrude(amount=-CORTAR_EXTRUIR15_DEPTH, mode=Mode.SUBTRACT)

    # Croquis24 → Cortar-Extruir14 (cut)
    with BuildSketch(Plane.XZ):
        with Locations(Location((-28.75, 1.5, 0), (0, 0, 270))):
            Circle(CROQUIS24_R)
        with Locations(Location((25, 25, 0), (0, 0, 270))):
            Circle(CROQUIS24_R)
    extrude(amount=-CORTAR_EXTRUIR14_DEPTH, mode=Mode.SUBTRACT)

    # Croquis26 → Cortar-Extruir16 (cut, through all)
    with BuildSketch(Plane.XZ.offset(-55)):
        with Locations(Location((54.186793756, 85.381197846, 0), (0, 0, 270))):
            Circle(CROQUIS26_R)
        with Locations(Location((58.853460423, 67.381197846, 0), (0, 0, 270))):
            Circle(CROQUIS26_R)
        with Locations(Location((58.853460423, -2.381197846, 0), (0, 0, 90))):
            Circle(CROQUIS26_R)
        with Locations(Location((54.186793756, -20.381197846, 0), (0, 0, 90))):
            Circle(CROQUIS26_R)
    extrude(amount=-CORTAR_EXTRUIR16_DEPTH, mode=Mode.SUBTRACT)

    # Croquis27 → Cortar-Extruir17 (cut)
    with BuildSketch(Plane(origin=(0, 85, 0), x_dir=(1, 0, 0), z_dir=(0, 1, 0))):
        with Locations(Location((54.186793756, 20.381197846, 0), (0, 0, 270))):
            Circle(CROQUIS27_R)
        with Locations(Location((58.853460423, 2.381197846, 0), (0, 0, 270))):
            Circle(CROQUIS27_R)
        with Locations(Location((58.853460423, -67.381197846, 0), (0, 0, 270))):
            Circle(CROQUIS27_R)
        with Locations(Location((54.186793756, -85.381197846, 0), (0, 0, 270))):
            Circle(CROQUIS27_R)
    extrude(amount=-CORTAR_EXTRUIR17_DEPTH, mode=Mode.SUBTRACT)

    # Croquis28 → Cortar-Extruir18 (cut)
    with BuildSketch(Plane.XZ.offset(-55)):
        Polygon((55.222779206, 81.385253968), (58.165375392, 84.280415625), (57.129389942, 88.276359503), (53.150808306, 89.377141725), (50.20821212, 86.481980068), (51.24419757, 82.48603619), align=None)
        Polygon((59.889445873, 63.385253968), (62.832042059, 66.280415625), (61.796056609, 70.276359503), (57.817474973, 71.377141725), (54.874878787, 68.481980068), (55.910864237, 64.48603619), align=None)
        Polygon((59.889445873, 1.614746032), (55.910864237, 0.51396381), (54.874878787, -3.481980068), (57.817474973, -6.377141725), (61.796056609, -5.276359503), (62.832042059, -1.280415625), align=None)
        Polygon((55.222779206, -16.385253968), (51.24419757, -17.48603619), (50.20821212, -21.481980068), (53.150808306, -24.377141725), (57.129389942, -23.276359503), (58.165375392, -19.280415625), align=None)
    extrude(amount=-CORTAR_EXTRUIR18_DEPTH, mode=Mode.SUBTRACT)

    # Croquis29 → Cortar-Extruir19 (cut)
    with BuildSketch(Plane.XZ.offset(-68)):
        with Locations(Location((160.5, 32.5, 0), (0, 0, 270))):
            Circle(CROQUIS29_R)
        with Locations(Location((141.75, 0.024047358, 0), (0, 0, 270))):
            Circle(CROQUIS29_R)
        with Locations(Location((104.25, 0.024047358, 0), (0, 0, 270))):
            Circle(CROQUIS29_R)
        with Locations(Location((85.5, 32.5, 0), (0, 0, 270))):
            Circle(CROQUIS29_R)
        with Locations(Location((104.25, 64.975952642, 0), (0, 0, 270))):
            Circle(CROQUIS29_R)
        with Locations(Location((141.75, 64.975952642, 0), (0, 0, 270))):
            Circle(CROQUIS29_R)
    extrude(amount=-CORTAR_EXTRUIR19_DEPTH, mode=Mode.SUBTRACT)


solid = part.part
